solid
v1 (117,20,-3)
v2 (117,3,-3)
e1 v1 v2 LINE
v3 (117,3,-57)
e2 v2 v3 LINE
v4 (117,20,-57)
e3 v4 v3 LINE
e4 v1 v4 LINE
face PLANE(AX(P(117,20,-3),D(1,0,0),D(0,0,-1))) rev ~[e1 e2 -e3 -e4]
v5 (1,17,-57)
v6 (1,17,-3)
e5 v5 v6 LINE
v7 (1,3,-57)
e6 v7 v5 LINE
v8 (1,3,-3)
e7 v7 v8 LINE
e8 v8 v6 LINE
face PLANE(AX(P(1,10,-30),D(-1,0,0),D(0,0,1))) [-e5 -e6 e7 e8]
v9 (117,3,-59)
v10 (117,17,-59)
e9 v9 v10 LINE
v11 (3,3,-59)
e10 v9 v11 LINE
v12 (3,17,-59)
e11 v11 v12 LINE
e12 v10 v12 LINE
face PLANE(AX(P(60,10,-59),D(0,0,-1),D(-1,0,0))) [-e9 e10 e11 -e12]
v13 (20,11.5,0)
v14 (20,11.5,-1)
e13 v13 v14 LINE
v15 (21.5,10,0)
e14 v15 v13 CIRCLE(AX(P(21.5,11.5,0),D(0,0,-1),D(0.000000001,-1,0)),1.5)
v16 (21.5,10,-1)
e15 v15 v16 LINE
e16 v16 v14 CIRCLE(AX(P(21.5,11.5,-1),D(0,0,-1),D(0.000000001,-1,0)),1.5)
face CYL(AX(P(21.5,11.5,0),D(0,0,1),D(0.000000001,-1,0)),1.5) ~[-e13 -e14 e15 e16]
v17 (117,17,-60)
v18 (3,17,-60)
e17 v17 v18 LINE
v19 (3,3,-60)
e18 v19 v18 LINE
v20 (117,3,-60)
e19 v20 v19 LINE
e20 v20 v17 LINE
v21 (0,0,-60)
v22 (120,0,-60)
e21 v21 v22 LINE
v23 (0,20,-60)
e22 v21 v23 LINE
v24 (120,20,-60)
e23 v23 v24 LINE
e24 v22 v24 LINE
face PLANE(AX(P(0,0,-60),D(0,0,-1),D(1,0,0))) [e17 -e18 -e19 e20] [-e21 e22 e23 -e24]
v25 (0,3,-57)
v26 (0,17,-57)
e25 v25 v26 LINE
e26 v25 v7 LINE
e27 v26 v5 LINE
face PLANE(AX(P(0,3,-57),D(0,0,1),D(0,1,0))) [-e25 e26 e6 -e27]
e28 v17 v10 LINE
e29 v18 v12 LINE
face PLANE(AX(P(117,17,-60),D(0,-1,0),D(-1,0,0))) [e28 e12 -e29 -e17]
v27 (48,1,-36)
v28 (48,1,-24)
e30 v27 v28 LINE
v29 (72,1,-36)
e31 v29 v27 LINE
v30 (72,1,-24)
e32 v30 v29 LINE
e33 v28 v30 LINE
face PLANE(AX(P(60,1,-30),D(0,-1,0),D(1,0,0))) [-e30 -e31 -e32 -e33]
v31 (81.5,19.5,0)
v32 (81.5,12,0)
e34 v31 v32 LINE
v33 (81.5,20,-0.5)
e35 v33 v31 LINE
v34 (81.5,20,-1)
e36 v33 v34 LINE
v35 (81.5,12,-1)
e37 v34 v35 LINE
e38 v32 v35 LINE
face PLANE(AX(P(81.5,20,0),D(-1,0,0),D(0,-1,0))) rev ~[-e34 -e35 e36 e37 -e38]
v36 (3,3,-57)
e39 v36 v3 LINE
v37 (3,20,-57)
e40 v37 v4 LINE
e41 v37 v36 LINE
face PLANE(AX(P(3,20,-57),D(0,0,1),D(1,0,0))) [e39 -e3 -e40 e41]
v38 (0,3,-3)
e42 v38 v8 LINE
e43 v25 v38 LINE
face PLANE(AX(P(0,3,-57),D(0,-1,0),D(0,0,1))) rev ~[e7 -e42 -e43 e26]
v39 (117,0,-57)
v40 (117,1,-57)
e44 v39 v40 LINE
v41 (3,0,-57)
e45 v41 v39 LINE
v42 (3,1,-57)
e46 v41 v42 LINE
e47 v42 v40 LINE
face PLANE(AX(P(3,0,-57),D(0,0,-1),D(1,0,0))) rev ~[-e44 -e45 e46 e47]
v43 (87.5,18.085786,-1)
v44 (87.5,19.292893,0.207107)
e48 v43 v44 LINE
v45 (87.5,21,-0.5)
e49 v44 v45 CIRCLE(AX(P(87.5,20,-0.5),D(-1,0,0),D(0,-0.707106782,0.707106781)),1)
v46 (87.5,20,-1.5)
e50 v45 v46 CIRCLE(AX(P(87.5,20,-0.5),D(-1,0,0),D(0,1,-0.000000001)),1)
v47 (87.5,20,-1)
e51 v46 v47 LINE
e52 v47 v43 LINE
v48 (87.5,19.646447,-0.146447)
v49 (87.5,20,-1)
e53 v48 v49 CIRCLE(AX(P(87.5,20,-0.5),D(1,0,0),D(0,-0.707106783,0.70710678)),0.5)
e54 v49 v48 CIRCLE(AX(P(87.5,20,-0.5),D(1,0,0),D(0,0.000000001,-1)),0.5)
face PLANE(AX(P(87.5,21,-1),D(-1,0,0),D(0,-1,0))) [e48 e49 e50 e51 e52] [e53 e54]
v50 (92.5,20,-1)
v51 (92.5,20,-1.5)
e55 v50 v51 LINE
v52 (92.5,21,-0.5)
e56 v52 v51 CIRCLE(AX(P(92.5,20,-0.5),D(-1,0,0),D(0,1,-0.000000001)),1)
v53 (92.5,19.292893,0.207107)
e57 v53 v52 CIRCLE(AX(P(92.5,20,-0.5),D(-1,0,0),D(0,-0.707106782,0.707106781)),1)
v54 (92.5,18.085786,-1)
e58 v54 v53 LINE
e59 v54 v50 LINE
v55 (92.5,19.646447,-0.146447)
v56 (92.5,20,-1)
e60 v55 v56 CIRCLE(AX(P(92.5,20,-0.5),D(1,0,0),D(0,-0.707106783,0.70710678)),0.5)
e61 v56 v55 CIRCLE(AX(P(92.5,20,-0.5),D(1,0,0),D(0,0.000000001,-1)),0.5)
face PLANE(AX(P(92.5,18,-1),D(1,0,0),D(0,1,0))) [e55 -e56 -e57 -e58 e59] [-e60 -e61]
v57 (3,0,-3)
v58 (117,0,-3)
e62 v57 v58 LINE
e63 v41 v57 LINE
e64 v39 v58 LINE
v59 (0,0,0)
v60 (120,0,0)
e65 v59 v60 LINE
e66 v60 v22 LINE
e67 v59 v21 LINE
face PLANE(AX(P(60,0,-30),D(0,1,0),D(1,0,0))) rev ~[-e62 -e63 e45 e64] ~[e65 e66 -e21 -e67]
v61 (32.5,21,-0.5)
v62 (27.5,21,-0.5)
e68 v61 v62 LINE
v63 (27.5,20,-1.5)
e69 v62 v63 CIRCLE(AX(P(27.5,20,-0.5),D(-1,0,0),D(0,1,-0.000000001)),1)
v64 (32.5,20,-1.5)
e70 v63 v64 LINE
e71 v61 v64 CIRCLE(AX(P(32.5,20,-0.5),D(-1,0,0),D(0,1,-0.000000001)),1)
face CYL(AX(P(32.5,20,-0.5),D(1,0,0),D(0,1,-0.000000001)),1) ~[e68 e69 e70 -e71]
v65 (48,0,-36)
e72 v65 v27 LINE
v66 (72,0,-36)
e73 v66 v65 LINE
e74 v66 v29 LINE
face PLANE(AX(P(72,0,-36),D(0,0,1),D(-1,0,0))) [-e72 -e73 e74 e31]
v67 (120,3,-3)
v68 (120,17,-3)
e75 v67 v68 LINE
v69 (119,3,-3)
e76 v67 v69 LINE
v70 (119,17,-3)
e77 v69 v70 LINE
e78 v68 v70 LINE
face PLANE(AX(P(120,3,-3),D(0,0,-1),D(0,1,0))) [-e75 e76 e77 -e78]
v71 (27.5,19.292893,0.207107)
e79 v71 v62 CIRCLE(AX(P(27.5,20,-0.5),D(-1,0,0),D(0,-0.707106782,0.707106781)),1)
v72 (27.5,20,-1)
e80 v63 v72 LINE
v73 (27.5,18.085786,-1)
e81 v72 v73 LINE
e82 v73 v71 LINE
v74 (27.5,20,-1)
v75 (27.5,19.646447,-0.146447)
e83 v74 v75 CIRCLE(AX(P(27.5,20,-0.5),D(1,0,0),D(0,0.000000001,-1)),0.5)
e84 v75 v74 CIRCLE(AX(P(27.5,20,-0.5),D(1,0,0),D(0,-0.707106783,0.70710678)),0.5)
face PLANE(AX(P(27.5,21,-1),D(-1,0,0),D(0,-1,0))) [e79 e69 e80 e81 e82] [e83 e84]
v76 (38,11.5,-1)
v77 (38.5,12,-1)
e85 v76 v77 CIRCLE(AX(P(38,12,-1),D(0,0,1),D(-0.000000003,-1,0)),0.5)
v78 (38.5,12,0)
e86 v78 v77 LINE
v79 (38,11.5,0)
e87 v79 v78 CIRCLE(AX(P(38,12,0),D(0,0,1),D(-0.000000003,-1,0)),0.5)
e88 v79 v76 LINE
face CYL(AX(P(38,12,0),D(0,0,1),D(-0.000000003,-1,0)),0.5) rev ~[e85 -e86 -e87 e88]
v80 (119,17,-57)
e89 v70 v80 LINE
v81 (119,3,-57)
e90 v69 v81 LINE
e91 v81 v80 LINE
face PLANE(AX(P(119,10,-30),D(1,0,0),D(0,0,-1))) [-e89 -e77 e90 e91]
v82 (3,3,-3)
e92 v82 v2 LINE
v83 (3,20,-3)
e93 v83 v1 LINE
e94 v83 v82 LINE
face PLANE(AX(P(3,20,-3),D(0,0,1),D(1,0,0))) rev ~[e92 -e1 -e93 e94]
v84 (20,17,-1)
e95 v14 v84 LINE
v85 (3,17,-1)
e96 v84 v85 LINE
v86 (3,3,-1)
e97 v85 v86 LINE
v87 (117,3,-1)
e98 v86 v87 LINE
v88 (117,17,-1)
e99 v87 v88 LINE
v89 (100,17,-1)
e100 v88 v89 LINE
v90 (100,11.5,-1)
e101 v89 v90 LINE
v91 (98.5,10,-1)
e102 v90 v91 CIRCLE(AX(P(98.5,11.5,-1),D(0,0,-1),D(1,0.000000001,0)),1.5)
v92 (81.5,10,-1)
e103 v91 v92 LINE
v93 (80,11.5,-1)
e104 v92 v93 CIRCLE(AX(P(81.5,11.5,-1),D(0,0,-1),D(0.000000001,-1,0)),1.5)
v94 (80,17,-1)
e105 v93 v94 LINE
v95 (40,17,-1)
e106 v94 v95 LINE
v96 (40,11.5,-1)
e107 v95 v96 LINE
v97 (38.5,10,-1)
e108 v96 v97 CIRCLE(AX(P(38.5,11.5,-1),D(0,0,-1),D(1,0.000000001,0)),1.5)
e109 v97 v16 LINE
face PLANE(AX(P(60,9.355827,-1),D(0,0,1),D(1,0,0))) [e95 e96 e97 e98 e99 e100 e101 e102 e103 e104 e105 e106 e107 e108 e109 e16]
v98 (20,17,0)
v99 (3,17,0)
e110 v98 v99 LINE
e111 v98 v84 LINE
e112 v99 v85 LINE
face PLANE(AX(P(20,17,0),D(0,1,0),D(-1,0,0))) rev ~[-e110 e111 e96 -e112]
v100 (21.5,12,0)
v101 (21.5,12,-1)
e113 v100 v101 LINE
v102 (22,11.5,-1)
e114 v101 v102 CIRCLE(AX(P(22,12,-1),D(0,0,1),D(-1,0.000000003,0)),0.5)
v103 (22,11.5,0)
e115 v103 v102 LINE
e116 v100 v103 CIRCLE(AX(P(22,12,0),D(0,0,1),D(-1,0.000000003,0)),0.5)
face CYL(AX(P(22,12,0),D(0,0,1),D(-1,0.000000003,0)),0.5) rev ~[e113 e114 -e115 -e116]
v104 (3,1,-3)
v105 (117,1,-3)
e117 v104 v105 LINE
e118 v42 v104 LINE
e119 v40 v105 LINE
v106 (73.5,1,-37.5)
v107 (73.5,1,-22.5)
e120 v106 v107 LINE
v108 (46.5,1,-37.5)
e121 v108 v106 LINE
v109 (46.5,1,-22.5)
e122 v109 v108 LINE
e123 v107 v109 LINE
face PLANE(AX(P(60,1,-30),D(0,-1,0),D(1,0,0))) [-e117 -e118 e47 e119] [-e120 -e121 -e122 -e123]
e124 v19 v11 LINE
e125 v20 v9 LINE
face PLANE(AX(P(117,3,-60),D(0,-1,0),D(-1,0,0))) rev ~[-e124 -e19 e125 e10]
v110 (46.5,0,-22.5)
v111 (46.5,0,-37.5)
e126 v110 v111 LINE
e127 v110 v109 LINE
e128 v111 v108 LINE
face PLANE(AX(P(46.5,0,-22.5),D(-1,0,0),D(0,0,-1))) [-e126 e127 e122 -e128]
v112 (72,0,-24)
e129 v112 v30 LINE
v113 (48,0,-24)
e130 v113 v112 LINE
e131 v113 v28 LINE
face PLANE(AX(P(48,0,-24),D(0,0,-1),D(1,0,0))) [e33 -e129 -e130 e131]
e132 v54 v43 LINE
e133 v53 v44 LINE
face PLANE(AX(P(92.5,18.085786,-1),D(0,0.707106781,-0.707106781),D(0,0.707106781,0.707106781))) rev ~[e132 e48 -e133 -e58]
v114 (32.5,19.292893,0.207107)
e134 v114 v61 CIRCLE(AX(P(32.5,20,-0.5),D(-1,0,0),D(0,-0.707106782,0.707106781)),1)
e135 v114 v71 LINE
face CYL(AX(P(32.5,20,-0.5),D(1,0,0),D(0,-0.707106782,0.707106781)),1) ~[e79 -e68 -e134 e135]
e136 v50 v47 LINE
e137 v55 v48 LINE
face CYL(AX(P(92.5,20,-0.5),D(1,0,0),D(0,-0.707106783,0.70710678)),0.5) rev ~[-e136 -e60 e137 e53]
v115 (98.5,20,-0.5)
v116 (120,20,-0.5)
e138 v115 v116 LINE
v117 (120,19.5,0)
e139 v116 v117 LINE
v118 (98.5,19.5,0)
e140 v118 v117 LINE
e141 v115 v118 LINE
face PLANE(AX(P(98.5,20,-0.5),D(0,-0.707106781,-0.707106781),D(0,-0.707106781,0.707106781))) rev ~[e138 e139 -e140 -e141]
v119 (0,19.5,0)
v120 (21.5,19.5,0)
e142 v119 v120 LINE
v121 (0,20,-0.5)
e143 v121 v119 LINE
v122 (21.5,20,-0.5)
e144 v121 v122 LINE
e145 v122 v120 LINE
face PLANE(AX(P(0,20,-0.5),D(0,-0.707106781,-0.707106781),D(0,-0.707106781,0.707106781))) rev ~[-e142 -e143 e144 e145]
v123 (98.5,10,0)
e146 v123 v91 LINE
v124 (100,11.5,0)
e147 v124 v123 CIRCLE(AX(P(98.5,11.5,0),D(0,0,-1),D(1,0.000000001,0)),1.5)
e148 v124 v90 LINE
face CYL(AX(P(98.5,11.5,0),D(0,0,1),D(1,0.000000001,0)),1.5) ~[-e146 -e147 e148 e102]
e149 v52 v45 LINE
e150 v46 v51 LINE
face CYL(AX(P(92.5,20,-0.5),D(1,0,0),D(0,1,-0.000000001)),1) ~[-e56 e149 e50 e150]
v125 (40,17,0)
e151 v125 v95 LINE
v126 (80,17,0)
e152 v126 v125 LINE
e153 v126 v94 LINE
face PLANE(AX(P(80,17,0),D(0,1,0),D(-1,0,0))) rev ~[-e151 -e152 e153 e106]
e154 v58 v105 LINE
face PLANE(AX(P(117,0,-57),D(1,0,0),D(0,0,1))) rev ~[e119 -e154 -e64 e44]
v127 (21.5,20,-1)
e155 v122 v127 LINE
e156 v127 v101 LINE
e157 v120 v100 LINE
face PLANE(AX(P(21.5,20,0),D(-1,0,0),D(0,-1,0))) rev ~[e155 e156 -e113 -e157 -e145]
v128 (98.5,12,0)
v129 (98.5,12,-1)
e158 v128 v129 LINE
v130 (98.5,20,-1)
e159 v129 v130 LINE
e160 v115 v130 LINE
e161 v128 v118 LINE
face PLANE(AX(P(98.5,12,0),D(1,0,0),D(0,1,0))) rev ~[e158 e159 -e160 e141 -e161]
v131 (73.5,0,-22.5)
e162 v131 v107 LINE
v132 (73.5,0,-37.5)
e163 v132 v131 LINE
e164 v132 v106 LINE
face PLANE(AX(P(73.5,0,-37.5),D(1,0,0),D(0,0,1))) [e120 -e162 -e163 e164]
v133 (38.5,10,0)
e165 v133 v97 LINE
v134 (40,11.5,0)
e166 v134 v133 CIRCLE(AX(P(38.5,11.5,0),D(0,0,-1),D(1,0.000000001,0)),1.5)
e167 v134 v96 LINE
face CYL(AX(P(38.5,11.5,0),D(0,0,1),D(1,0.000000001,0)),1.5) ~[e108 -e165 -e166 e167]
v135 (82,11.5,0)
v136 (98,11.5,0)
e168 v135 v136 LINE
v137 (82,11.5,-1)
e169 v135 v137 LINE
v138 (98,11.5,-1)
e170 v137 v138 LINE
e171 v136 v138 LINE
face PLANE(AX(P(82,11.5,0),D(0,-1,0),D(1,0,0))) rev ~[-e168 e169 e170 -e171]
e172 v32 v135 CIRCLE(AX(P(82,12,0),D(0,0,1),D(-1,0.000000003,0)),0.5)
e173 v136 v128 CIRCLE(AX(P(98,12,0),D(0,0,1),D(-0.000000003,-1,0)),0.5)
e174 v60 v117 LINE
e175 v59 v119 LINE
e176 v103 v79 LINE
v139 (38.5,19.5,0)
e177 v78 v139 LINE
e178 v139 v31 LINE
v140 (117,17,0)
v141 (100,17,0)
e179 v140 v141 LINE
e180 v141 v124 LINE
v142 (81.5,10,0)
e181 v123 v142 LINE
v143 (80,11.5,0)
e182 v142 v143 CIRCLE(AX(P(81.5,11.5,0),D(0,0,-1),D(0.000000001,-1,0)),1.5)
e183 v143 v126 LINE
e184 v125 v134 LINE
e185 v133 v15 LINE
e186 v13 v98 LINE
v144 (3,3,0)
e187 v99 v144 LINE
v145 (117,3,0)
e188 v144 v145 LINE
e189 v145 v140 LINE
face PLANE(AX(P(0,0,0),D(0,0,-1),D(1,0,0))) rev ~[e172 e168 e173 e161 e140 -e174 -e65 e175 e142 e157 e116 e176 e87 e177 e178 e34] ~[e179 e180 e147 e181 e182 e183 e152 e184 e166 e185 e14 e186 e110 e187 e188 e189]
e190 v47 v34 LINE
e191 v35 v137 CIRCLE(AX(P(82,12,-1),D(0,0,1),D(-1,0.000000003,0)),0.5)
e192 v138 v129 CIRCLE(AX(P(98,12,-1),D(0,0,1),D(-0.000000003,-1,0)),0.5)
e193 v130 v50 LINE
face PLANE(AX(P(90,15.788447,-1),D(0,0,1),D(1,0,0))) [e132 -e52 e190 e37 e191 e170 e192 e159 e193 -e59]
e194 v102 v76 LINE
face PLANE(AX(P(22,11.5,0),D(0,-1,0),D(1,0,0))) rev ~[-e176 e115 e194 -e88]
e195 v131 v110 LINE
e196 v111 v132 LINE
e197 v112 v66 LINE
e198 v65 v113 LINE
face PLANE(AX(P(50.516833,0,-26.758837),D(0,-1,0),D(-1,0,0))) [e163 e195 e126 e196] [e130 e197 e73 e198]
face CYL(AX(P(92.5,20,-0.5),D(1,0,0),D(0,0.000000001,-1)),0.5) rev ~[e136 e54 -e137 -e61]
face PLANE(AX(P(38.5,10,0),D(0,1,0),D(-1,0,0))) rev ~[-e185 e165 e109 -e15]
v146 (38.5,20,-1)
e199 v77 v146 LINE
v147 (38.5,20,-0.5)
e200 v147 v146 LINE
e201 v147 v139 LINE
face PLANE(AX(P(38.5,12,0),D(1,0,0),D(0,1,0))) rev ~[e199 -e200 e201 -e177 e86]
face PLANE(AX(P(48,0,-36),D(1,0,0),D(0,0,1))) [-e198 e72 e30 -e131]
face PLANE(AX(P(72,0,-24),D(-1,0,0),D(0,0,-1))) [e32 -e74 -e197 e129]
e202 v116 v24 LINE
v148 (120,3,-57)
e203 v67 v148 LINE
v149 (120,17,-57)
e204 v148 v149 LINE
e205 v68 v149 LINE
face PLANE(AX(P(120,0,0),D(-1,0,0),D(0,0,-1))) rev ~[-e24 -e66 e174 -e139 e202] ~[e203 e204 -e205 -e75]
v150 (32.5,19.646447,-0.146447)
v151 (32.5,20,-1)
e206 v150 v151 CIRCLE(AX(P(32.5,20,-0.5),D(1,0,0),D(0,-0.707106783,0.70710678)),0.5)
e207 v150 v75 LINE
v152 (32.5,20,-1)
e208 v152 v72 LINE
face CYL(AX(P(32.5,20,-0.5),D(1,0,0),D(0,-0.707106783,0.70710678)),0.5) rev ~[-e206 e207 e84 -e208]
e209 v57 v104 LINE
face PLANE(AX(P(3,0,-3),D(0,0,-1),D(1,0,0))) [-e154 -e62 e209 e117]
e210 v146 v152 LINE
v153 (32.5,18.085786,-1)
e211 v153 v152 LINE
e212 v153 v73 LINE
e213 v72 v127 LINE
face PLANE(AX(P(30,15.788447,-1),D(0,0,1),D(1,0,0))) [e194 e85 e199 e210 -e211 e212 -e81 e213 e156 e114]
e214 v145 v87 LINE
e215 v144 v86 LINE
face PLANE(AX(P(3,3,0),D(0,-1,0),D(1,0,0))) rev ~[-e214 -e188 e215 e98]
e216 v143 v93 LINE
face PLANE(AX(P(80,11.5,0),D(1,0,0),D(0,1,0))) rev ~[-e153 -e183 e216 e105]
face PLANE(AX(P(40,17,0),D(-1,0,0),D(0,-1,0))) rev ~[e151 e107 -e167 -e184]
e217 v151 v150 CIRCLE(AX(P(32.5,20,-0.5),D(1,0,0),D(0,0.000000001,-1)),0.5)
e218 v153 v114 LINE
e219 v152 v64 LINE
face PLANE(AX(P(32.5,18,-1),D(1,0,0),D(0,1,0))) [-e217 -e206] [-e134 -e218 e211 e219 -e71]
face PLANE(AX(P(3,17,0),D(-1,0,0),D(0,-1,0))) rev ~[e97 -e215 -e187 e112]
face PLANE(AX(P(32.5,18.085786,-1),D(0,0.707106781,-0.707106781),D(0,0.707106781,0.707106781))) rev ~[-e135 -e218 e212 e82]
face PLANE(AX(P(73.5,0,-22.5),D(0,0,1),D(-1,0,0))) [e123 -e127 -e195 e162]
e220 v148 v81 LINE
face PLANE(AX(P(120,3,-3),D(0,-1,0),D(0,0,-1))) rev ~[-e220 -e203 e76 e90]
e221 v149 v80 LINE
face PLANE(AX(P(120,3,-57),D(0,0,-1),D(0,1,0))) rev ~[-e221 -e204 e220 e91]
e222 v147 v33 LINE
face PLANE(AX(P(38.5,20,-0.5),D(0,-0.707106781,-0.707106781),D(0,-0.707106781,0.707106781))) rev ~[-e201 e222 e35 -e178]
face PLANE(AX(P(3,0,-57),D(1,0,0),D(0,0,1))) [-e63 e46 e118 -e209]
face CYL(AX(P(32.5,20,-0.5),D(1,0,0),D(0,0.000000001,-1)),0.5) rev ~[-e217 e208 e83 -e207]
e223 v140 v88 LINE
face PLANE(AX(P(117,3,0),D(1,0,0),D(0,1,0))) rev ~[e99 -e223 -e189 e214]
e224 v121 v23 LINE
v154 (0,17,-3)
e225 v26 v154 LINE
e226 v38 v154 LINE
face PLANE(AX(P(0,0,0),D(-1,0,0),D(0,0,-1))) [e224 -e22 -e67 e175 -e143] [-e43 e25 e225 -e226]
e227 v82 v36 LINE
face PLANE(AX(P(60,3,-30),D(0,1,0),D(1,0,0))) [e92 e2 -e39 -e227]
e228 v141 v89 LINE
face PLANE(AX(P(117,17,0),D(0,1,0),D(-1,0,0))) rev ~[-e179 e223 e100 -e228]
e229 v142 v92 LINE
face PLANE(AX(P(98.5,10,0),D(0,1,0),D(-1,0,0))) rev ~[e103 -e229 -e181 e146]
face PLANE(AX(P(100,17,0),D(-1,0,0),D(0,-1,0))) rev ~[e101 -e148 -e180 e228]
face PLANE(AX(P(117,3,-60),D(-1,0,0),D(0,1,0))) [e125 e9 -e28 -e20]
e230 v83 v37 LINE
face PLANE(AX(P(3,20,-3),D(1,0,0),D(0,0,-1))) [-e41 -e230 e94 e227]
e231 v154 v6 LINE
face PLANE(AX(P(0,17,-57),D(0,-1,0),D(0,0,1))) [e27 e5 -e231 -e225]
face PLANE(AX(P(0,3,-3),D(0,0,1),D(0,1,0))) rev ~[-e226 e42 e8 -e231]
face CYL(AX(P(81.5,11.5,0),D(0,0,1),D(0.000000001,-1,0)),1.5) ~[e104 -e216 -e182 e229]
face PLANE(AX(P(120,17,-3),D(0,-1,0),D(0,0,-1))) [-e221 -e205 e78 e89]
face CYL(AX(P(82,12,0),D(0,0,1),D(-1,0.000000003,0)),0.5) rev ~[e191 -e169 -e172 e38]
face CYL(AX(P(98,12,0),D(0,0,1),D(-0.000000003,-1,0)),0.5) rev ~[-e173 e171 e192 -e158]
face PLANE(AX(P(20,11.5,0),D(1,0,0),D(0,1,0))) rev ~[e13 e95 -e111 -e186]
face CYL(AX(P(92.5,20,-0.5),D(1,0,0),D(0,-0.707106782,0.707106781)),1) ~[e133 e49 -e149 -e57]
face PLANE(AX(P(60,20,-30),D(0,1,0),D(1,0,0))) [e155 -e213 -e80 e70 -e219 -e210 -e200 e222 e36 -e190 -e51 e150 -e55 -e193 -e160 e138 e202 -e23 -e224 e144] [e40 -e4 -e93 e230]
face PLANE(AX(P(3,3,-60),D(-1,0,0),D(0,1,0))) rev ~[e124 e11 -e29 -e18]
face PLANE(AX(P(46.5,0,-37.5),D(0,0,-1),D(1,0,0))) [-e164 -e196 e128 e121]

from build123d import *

# Parameters (mm, degrees)
SKETCH1_W                = 120
SKETCH1_H                = 60
BOSS_EXTRUDE1_DEPTH      = 20
SKETCH2_W                = 114
SKETCH2_H                = 54
CUT_EXTRUDE1_DEPTH       = 17
CUT_EXTRUDE2_DEPTH       = 1
CUT_EXTRUDE3_DEPTH       = 1
SKETCH5_W                = 54
SKETCH5_H                = 14
CUT_EXTRUDE4_DEPTH       = 1
SKETCH6_W                = 54
SKETCH6_H                = 14
CUT_EXTRUDE5_DEPTH       = 1
SKETCH7_W                = 114
SKETCH7_H                = 14
CUT_EXTRUDE6_DEPTH       = 1
SKETCH8_W                = 114
SKETCH8_H                = 54
CUT_EXTRUDE7_DEPTH       = 1
BOSS_EXTRUDE2_DEPTH      = 3
BOSS_EXTRUDE2_DEPTH_BACK = 0.5
CUT_EXTRUDE8_DEPTH       = 5
BOSS_EXTRUDE3_DEPTH      = 2
BOSS_EXTRUDE3_DEPTH_BACK = 0.5
CUT_EXTRUDE9_DEPTH       = 5
CUT_EXTRUDE10_DEPTH      = 23
CUT_EXTRUDE11_DEPTH      = 43
CUT_EXTRUDE12_DEPTH      = 43
BOSS_EXTRUDE5_DEPTH      = 1


with BuildPart() as part:
    # Sketch1 → Boss-Extrude1 (new body)
    with BuildSketch(Plane(origin=(0, 0, 0), x_dir=(1, 0, 0), z_dir=(0, 1, 0))):
        with Locations((60, 30)):
            Rectangle(SKETCH1_W, SKETCH1_H)
    extrude(amount=BOSS_EXTRUDE1_DEPTH)

    # Sketch2 → Cut-Extrude1 (cut)
    with BuildSketch(Plane(origin=(0, 20, 0), x_dir=(1, 0, 0), z_dir=(0, 1, 0))):
        with Locations((60, 30)):
            Rectangle(SKETCH2_W, SKETCH2_H)
    extrude(amount=-CUT_EXTRUDE1_DEPTH, mode=Mode.SUBTRACT)

    # Sketch3 → Cut-Extrude2 (cut)
    with BuildSketch(Plane.XY):
        with BuildLine():
            Line((38.5, 20), (21.5, 20))
            Line((21.5, 20), (21.5, 12))
            ThreePointArc((21.5, 12), (21.646446609, 11.646446609), (22, 11.5))
            Line((22, 11.5), (38, 11.5))
            ThreePointArc((38, 11.5), (38.353553391, 11.646446609), (38.5, 12))
            Line((38.5, 12), (38.5, 20))
        make_face()
        with BuildLine():
            Line((98.5, 12), (98.5, 20))
            Line((98.5, 20), (81.5, 20))
            Line((81.5, 20), (81.5, 12))
            ThreePointArc((81.5, 12), (81.646446609, 11.646446609), (82, 11.5))
            Line((82, 11.5), (98, 11.5))
            ThreePointArc((98, 11.5), (98.353553391, 11.646446609), (98.5, 12))
        make_face()
    extrude(amount=-CUT_EXTRUDE2_DEPTH, mode=Mode.SUBTRACT)

    # Sketch4 → Cut-Extrude3 (cut)
    with BuildSketch(Plane.XY):
        with BuildLine():
            Line((20, 17), (3, 17))
            Line((3, 17), (3, 3))
            Line((3, 3), (117, 3))
            Line((117, 3), (117, 17))
            Line((117, 17), (100, 17))
            Line((100, 17), (100, 11.5))
            ThreePointArc((100, 11.5), (99.560660172, 10.439339828), (98.5, 10))
            Line((98.5, 10), (81.5, 10))
            ThreePointArc((81.5, 10), (80.439339828, 10.439339828), (80, 11.5))
            Line((80, 11.5), (80, 17))
            Line((80, 17), (60, 17))
            Line((60, 17), (40, 17))
            Line((40, 17), (40, 11.5))
            ThreePointArc((40, 11.5), (39.560660172, 10.439339828), (38.5, 10))
            Line((38.5, 10), (21.5, 10))
            ThreePointArc((21.5, 10), (20.439339828, 10.439339828), (20, 11.5))
            Line((20, 11.5), (20, 17))
        make_face()
    extrude(amount=-CUT_EXTRUDE3_DEPTH, mode=Mode.SUBTRACT)

    # Sketch5 → Cut-Extrude4 (cut)
    with BuildSketch(Plane.ZY):
        with Locations((-30, 10)):
            Rectangle(SKETCH5_W, SKETCH5_H)
    extrude(amount=-CUT_EXTRUDE4_DEPTH, mode=Mode.SUBTRACT)

    # Sketch6 → Cut-Extrude5 (cut)
    with BuildSketch(Plane(origin=(120, 0, 0), x_dir=(0, 0, -1), z_dir=(1, 0, 0))):
        with Locations((30, 10)):
            Rectangle(SKETCH6_W, SKETCH6_H)
    extrude(amount=-CUT_EXTRUDE5_DEPTH, mode=Mode.SUBTRACT)

    # Sketch7 → Cut-Extrude6 (cut)
    with BuildSketch(Plane(origin=(0, 0, -60), x_dir=(-1, 0, 0), z_dir=(0, 0, -1))):
        with Locations((-60, 10)):
            Rectangle(SKETCH7_W, SKETCH7_H)
    extrude(amount=-CUT_EXTRUDE6_DEPTH, mode=Mode.SUBTRACT)

    # Sketch8 → Cut-Extrude7 (cut)
    with BuildSketch(Plane.XZ):
        with Locations((60, -30)):
            Rectangle(SKETCH8_W, SKETCH8_H)
    extrude(amount=-CUT_EXTRUDE7_DEPTH, mode=Mode.SUBTRACT)

    # Sketch9 → Boss-Extrude2 (add, two sides)
    with BuildSketch(Plane.XY.offset(-1)) as boss_extrude2_sk:
        Polygon((32.5, 20), (30, 20), (27.5, 20), (27.5, 18), (32.5, 18), align=None)
        Polygon((27.5, 20), (30, 20), (32.5, 20), (32.5, 21), (27.5, 21), align=None)
    extrude(amount=BOSS_EXTRUDE2_DEPTH)
    extrude(boss_extrude2_sk.sketch, amount=-BOSS_EXTRUDE2_DEPTH_BACK)

    # Sketch11 → Cut-Extrude8 (cut)
    with BuildSketch(Plane(origin=(32.5, 0, 0), x_dir=(0, 0, -1), z_dir=(1, 0, 0))):
        with BuildLine():
            Line((1, 18.085786438), (-0.207106781, 19.292893219))
            ThreePointArc((-0.207106781, 19.292893219), (-0.423879533, 20.382683432), (0.5, 21))
            Line((0.5, 21), (-2, 21))
            Line((-2, 21), (-2, 18))
            Line((-2, 18), (1, 18))
            Line((1, 18), (1, 18.085786438))
        make_face()
        with BuildLine():
            ThreePointArc((0.5, 21), (1.207106781, 20.707106781), (1.5, 20))
            Line((1.5, 20), (1.5, 21))
            Line((1.5, 21), (0.5, 21))
        make_face()
        with BuildLine():
            ThreePointArc((0.146446609, 19.646446609), (0.691341716, 19.538060234), (1, 20))
            Line((1, 20), (0.5, 20))
            Line((0.5, 20), (0.146446609, 19.646446609))
        make_face()
        with BuildLine():
            Line((0.5, 20), (1, 20))
            ThreePointArc((1, 20), (0.308658284, 20.461939766), (0.146446609, 19.646446609))
            Line((0.146446609, 19.646446609), (0.5, 20))
        make_face()
    extrude(amount=-CUT_EXTRUDE8_DEPTH, mode=Mode.SUBTRACT)

    # Sketch12 → Boss-Extrude3 (add, two sides)
    with BuildSketch(Plane.XY.offset(-1)) as boss_extrude3_sk:
        Polygon((87.5, 21), (87.5, 20), (87.5, 18), (92.5, 18), (92.5, 21), align=None)
    extrude(amount=BOSS_EXTRUDE3_DEPTH)
    extrude(boss_extrude3_sk.sketch, amount=-BOSS_EXTRUDE3_DEPTH_BACK)

    # Sketch13 → Cut-Extrude9 (cut)
    with BuildSketch(Plane(origin=(92.5, 0, 0), x_dir=(0, 0, -1), z_dir=(1, 0, 0))):
        with BuildLine():
            Line((1, 18.085786438), (-0.207106781, 19.292893219))
            ThreePointArc((-0.207106781, 19.292893219), (-0.423879533, 20.382683432), (0.5, 21))
            Line((0.5, 21), (-1, 21))
            Line((-1, 21), (-1, 18))
            Line((-1, 18), (1, 18))
            Line((1, 18), (1, 18.085786438))
        make_face()
        with BuildLine():
            ThreePointArc((0.146446609, 19.646446609), (0.691341716, 19.538060234), (1, 20))
            Line((1, 20), (0.5, 20))
            Line((0.5, 20), (0.146446609, 19.646446609))
        make_face()
        with BuildLine():
            Line((0.5, 20), (1, 20))
            ThreePointArc((1, 20), (0.308658284, 20.461939766), (0.146446609, 19.646446609))
            Line((0.146446609, 19.646446609), (0.5, 20))
        make_face()
        with BuildLine():
            ThreePointArc((0.5, 21), (1.207106781, 20.707106781), (1.5, 20))
            Line((1.5, 20), (1.5, 21))
            Line((1.5, 21), (0.5, 21))
        make_face()
    extrude(amount=-CUT_EXTRUDE9_DEPTH, mode=Mode.SUBTRACT)

    # Sketch14 → Cut-Extrude10 (cut)
    with BuildSketch(Plane.ZY):
        Polygon((0, 19.5), (0, 20), (-0.5, 20), align=None)
    extrude(amount=-CUT_EXTRUDE10_DEPTH, mode=Mode.SUBTRACT)

    # Sketch15 → Cut-Extrude11 (cut)
    with BuildSketch(Plane.ZY.offset(-38.5)):
        Polygon((0, 20), (-0.5, 20), (0, 19.5), align=None)
    extrude(amount=-CUT_EXTRUDE11_DEPTH, mode=Mode.SUBTRACT)

    # Sketch16 → Cut-Extrude12 (cut)
    with BuildSketch(Plane.ZY.offset(-98.5)):
        Polygon((0, 20), (-0.5, 20), (0, 19.5), align=None)
    extrude(amount=-CUT_EXTRUDE12_DEPTH, mode=Mode.SUBTRACT)

    # Sketch18 → Boss-Extrude5 (add)
    with BuildSketch(Plane(origin=(0, 0, 0), x_dir=(-1, 0, 0), z_dir=(0, -1, 0))):
        Polygon((-46.5, 36.75), (-48, 36), (-48, 24), (-60, 24), (-60, 22.5), (-46.5, 22.5), align=None)
        Polygon((-60, 24), (-72, 24), (-73.5, 23.25), (-73.5, 22.5), (-60, 22.5), align=None)
        Polygon((-72, 36), (-48, 36), (-46.5, 36.75), (-46.5, 37.5), (-73.5, 37.5), (-73.5, 23.25), (-72, 24), align=None)
    extrude(amount=-BOSS_EXTRUDE5_DEPTH)


solid = part.part
